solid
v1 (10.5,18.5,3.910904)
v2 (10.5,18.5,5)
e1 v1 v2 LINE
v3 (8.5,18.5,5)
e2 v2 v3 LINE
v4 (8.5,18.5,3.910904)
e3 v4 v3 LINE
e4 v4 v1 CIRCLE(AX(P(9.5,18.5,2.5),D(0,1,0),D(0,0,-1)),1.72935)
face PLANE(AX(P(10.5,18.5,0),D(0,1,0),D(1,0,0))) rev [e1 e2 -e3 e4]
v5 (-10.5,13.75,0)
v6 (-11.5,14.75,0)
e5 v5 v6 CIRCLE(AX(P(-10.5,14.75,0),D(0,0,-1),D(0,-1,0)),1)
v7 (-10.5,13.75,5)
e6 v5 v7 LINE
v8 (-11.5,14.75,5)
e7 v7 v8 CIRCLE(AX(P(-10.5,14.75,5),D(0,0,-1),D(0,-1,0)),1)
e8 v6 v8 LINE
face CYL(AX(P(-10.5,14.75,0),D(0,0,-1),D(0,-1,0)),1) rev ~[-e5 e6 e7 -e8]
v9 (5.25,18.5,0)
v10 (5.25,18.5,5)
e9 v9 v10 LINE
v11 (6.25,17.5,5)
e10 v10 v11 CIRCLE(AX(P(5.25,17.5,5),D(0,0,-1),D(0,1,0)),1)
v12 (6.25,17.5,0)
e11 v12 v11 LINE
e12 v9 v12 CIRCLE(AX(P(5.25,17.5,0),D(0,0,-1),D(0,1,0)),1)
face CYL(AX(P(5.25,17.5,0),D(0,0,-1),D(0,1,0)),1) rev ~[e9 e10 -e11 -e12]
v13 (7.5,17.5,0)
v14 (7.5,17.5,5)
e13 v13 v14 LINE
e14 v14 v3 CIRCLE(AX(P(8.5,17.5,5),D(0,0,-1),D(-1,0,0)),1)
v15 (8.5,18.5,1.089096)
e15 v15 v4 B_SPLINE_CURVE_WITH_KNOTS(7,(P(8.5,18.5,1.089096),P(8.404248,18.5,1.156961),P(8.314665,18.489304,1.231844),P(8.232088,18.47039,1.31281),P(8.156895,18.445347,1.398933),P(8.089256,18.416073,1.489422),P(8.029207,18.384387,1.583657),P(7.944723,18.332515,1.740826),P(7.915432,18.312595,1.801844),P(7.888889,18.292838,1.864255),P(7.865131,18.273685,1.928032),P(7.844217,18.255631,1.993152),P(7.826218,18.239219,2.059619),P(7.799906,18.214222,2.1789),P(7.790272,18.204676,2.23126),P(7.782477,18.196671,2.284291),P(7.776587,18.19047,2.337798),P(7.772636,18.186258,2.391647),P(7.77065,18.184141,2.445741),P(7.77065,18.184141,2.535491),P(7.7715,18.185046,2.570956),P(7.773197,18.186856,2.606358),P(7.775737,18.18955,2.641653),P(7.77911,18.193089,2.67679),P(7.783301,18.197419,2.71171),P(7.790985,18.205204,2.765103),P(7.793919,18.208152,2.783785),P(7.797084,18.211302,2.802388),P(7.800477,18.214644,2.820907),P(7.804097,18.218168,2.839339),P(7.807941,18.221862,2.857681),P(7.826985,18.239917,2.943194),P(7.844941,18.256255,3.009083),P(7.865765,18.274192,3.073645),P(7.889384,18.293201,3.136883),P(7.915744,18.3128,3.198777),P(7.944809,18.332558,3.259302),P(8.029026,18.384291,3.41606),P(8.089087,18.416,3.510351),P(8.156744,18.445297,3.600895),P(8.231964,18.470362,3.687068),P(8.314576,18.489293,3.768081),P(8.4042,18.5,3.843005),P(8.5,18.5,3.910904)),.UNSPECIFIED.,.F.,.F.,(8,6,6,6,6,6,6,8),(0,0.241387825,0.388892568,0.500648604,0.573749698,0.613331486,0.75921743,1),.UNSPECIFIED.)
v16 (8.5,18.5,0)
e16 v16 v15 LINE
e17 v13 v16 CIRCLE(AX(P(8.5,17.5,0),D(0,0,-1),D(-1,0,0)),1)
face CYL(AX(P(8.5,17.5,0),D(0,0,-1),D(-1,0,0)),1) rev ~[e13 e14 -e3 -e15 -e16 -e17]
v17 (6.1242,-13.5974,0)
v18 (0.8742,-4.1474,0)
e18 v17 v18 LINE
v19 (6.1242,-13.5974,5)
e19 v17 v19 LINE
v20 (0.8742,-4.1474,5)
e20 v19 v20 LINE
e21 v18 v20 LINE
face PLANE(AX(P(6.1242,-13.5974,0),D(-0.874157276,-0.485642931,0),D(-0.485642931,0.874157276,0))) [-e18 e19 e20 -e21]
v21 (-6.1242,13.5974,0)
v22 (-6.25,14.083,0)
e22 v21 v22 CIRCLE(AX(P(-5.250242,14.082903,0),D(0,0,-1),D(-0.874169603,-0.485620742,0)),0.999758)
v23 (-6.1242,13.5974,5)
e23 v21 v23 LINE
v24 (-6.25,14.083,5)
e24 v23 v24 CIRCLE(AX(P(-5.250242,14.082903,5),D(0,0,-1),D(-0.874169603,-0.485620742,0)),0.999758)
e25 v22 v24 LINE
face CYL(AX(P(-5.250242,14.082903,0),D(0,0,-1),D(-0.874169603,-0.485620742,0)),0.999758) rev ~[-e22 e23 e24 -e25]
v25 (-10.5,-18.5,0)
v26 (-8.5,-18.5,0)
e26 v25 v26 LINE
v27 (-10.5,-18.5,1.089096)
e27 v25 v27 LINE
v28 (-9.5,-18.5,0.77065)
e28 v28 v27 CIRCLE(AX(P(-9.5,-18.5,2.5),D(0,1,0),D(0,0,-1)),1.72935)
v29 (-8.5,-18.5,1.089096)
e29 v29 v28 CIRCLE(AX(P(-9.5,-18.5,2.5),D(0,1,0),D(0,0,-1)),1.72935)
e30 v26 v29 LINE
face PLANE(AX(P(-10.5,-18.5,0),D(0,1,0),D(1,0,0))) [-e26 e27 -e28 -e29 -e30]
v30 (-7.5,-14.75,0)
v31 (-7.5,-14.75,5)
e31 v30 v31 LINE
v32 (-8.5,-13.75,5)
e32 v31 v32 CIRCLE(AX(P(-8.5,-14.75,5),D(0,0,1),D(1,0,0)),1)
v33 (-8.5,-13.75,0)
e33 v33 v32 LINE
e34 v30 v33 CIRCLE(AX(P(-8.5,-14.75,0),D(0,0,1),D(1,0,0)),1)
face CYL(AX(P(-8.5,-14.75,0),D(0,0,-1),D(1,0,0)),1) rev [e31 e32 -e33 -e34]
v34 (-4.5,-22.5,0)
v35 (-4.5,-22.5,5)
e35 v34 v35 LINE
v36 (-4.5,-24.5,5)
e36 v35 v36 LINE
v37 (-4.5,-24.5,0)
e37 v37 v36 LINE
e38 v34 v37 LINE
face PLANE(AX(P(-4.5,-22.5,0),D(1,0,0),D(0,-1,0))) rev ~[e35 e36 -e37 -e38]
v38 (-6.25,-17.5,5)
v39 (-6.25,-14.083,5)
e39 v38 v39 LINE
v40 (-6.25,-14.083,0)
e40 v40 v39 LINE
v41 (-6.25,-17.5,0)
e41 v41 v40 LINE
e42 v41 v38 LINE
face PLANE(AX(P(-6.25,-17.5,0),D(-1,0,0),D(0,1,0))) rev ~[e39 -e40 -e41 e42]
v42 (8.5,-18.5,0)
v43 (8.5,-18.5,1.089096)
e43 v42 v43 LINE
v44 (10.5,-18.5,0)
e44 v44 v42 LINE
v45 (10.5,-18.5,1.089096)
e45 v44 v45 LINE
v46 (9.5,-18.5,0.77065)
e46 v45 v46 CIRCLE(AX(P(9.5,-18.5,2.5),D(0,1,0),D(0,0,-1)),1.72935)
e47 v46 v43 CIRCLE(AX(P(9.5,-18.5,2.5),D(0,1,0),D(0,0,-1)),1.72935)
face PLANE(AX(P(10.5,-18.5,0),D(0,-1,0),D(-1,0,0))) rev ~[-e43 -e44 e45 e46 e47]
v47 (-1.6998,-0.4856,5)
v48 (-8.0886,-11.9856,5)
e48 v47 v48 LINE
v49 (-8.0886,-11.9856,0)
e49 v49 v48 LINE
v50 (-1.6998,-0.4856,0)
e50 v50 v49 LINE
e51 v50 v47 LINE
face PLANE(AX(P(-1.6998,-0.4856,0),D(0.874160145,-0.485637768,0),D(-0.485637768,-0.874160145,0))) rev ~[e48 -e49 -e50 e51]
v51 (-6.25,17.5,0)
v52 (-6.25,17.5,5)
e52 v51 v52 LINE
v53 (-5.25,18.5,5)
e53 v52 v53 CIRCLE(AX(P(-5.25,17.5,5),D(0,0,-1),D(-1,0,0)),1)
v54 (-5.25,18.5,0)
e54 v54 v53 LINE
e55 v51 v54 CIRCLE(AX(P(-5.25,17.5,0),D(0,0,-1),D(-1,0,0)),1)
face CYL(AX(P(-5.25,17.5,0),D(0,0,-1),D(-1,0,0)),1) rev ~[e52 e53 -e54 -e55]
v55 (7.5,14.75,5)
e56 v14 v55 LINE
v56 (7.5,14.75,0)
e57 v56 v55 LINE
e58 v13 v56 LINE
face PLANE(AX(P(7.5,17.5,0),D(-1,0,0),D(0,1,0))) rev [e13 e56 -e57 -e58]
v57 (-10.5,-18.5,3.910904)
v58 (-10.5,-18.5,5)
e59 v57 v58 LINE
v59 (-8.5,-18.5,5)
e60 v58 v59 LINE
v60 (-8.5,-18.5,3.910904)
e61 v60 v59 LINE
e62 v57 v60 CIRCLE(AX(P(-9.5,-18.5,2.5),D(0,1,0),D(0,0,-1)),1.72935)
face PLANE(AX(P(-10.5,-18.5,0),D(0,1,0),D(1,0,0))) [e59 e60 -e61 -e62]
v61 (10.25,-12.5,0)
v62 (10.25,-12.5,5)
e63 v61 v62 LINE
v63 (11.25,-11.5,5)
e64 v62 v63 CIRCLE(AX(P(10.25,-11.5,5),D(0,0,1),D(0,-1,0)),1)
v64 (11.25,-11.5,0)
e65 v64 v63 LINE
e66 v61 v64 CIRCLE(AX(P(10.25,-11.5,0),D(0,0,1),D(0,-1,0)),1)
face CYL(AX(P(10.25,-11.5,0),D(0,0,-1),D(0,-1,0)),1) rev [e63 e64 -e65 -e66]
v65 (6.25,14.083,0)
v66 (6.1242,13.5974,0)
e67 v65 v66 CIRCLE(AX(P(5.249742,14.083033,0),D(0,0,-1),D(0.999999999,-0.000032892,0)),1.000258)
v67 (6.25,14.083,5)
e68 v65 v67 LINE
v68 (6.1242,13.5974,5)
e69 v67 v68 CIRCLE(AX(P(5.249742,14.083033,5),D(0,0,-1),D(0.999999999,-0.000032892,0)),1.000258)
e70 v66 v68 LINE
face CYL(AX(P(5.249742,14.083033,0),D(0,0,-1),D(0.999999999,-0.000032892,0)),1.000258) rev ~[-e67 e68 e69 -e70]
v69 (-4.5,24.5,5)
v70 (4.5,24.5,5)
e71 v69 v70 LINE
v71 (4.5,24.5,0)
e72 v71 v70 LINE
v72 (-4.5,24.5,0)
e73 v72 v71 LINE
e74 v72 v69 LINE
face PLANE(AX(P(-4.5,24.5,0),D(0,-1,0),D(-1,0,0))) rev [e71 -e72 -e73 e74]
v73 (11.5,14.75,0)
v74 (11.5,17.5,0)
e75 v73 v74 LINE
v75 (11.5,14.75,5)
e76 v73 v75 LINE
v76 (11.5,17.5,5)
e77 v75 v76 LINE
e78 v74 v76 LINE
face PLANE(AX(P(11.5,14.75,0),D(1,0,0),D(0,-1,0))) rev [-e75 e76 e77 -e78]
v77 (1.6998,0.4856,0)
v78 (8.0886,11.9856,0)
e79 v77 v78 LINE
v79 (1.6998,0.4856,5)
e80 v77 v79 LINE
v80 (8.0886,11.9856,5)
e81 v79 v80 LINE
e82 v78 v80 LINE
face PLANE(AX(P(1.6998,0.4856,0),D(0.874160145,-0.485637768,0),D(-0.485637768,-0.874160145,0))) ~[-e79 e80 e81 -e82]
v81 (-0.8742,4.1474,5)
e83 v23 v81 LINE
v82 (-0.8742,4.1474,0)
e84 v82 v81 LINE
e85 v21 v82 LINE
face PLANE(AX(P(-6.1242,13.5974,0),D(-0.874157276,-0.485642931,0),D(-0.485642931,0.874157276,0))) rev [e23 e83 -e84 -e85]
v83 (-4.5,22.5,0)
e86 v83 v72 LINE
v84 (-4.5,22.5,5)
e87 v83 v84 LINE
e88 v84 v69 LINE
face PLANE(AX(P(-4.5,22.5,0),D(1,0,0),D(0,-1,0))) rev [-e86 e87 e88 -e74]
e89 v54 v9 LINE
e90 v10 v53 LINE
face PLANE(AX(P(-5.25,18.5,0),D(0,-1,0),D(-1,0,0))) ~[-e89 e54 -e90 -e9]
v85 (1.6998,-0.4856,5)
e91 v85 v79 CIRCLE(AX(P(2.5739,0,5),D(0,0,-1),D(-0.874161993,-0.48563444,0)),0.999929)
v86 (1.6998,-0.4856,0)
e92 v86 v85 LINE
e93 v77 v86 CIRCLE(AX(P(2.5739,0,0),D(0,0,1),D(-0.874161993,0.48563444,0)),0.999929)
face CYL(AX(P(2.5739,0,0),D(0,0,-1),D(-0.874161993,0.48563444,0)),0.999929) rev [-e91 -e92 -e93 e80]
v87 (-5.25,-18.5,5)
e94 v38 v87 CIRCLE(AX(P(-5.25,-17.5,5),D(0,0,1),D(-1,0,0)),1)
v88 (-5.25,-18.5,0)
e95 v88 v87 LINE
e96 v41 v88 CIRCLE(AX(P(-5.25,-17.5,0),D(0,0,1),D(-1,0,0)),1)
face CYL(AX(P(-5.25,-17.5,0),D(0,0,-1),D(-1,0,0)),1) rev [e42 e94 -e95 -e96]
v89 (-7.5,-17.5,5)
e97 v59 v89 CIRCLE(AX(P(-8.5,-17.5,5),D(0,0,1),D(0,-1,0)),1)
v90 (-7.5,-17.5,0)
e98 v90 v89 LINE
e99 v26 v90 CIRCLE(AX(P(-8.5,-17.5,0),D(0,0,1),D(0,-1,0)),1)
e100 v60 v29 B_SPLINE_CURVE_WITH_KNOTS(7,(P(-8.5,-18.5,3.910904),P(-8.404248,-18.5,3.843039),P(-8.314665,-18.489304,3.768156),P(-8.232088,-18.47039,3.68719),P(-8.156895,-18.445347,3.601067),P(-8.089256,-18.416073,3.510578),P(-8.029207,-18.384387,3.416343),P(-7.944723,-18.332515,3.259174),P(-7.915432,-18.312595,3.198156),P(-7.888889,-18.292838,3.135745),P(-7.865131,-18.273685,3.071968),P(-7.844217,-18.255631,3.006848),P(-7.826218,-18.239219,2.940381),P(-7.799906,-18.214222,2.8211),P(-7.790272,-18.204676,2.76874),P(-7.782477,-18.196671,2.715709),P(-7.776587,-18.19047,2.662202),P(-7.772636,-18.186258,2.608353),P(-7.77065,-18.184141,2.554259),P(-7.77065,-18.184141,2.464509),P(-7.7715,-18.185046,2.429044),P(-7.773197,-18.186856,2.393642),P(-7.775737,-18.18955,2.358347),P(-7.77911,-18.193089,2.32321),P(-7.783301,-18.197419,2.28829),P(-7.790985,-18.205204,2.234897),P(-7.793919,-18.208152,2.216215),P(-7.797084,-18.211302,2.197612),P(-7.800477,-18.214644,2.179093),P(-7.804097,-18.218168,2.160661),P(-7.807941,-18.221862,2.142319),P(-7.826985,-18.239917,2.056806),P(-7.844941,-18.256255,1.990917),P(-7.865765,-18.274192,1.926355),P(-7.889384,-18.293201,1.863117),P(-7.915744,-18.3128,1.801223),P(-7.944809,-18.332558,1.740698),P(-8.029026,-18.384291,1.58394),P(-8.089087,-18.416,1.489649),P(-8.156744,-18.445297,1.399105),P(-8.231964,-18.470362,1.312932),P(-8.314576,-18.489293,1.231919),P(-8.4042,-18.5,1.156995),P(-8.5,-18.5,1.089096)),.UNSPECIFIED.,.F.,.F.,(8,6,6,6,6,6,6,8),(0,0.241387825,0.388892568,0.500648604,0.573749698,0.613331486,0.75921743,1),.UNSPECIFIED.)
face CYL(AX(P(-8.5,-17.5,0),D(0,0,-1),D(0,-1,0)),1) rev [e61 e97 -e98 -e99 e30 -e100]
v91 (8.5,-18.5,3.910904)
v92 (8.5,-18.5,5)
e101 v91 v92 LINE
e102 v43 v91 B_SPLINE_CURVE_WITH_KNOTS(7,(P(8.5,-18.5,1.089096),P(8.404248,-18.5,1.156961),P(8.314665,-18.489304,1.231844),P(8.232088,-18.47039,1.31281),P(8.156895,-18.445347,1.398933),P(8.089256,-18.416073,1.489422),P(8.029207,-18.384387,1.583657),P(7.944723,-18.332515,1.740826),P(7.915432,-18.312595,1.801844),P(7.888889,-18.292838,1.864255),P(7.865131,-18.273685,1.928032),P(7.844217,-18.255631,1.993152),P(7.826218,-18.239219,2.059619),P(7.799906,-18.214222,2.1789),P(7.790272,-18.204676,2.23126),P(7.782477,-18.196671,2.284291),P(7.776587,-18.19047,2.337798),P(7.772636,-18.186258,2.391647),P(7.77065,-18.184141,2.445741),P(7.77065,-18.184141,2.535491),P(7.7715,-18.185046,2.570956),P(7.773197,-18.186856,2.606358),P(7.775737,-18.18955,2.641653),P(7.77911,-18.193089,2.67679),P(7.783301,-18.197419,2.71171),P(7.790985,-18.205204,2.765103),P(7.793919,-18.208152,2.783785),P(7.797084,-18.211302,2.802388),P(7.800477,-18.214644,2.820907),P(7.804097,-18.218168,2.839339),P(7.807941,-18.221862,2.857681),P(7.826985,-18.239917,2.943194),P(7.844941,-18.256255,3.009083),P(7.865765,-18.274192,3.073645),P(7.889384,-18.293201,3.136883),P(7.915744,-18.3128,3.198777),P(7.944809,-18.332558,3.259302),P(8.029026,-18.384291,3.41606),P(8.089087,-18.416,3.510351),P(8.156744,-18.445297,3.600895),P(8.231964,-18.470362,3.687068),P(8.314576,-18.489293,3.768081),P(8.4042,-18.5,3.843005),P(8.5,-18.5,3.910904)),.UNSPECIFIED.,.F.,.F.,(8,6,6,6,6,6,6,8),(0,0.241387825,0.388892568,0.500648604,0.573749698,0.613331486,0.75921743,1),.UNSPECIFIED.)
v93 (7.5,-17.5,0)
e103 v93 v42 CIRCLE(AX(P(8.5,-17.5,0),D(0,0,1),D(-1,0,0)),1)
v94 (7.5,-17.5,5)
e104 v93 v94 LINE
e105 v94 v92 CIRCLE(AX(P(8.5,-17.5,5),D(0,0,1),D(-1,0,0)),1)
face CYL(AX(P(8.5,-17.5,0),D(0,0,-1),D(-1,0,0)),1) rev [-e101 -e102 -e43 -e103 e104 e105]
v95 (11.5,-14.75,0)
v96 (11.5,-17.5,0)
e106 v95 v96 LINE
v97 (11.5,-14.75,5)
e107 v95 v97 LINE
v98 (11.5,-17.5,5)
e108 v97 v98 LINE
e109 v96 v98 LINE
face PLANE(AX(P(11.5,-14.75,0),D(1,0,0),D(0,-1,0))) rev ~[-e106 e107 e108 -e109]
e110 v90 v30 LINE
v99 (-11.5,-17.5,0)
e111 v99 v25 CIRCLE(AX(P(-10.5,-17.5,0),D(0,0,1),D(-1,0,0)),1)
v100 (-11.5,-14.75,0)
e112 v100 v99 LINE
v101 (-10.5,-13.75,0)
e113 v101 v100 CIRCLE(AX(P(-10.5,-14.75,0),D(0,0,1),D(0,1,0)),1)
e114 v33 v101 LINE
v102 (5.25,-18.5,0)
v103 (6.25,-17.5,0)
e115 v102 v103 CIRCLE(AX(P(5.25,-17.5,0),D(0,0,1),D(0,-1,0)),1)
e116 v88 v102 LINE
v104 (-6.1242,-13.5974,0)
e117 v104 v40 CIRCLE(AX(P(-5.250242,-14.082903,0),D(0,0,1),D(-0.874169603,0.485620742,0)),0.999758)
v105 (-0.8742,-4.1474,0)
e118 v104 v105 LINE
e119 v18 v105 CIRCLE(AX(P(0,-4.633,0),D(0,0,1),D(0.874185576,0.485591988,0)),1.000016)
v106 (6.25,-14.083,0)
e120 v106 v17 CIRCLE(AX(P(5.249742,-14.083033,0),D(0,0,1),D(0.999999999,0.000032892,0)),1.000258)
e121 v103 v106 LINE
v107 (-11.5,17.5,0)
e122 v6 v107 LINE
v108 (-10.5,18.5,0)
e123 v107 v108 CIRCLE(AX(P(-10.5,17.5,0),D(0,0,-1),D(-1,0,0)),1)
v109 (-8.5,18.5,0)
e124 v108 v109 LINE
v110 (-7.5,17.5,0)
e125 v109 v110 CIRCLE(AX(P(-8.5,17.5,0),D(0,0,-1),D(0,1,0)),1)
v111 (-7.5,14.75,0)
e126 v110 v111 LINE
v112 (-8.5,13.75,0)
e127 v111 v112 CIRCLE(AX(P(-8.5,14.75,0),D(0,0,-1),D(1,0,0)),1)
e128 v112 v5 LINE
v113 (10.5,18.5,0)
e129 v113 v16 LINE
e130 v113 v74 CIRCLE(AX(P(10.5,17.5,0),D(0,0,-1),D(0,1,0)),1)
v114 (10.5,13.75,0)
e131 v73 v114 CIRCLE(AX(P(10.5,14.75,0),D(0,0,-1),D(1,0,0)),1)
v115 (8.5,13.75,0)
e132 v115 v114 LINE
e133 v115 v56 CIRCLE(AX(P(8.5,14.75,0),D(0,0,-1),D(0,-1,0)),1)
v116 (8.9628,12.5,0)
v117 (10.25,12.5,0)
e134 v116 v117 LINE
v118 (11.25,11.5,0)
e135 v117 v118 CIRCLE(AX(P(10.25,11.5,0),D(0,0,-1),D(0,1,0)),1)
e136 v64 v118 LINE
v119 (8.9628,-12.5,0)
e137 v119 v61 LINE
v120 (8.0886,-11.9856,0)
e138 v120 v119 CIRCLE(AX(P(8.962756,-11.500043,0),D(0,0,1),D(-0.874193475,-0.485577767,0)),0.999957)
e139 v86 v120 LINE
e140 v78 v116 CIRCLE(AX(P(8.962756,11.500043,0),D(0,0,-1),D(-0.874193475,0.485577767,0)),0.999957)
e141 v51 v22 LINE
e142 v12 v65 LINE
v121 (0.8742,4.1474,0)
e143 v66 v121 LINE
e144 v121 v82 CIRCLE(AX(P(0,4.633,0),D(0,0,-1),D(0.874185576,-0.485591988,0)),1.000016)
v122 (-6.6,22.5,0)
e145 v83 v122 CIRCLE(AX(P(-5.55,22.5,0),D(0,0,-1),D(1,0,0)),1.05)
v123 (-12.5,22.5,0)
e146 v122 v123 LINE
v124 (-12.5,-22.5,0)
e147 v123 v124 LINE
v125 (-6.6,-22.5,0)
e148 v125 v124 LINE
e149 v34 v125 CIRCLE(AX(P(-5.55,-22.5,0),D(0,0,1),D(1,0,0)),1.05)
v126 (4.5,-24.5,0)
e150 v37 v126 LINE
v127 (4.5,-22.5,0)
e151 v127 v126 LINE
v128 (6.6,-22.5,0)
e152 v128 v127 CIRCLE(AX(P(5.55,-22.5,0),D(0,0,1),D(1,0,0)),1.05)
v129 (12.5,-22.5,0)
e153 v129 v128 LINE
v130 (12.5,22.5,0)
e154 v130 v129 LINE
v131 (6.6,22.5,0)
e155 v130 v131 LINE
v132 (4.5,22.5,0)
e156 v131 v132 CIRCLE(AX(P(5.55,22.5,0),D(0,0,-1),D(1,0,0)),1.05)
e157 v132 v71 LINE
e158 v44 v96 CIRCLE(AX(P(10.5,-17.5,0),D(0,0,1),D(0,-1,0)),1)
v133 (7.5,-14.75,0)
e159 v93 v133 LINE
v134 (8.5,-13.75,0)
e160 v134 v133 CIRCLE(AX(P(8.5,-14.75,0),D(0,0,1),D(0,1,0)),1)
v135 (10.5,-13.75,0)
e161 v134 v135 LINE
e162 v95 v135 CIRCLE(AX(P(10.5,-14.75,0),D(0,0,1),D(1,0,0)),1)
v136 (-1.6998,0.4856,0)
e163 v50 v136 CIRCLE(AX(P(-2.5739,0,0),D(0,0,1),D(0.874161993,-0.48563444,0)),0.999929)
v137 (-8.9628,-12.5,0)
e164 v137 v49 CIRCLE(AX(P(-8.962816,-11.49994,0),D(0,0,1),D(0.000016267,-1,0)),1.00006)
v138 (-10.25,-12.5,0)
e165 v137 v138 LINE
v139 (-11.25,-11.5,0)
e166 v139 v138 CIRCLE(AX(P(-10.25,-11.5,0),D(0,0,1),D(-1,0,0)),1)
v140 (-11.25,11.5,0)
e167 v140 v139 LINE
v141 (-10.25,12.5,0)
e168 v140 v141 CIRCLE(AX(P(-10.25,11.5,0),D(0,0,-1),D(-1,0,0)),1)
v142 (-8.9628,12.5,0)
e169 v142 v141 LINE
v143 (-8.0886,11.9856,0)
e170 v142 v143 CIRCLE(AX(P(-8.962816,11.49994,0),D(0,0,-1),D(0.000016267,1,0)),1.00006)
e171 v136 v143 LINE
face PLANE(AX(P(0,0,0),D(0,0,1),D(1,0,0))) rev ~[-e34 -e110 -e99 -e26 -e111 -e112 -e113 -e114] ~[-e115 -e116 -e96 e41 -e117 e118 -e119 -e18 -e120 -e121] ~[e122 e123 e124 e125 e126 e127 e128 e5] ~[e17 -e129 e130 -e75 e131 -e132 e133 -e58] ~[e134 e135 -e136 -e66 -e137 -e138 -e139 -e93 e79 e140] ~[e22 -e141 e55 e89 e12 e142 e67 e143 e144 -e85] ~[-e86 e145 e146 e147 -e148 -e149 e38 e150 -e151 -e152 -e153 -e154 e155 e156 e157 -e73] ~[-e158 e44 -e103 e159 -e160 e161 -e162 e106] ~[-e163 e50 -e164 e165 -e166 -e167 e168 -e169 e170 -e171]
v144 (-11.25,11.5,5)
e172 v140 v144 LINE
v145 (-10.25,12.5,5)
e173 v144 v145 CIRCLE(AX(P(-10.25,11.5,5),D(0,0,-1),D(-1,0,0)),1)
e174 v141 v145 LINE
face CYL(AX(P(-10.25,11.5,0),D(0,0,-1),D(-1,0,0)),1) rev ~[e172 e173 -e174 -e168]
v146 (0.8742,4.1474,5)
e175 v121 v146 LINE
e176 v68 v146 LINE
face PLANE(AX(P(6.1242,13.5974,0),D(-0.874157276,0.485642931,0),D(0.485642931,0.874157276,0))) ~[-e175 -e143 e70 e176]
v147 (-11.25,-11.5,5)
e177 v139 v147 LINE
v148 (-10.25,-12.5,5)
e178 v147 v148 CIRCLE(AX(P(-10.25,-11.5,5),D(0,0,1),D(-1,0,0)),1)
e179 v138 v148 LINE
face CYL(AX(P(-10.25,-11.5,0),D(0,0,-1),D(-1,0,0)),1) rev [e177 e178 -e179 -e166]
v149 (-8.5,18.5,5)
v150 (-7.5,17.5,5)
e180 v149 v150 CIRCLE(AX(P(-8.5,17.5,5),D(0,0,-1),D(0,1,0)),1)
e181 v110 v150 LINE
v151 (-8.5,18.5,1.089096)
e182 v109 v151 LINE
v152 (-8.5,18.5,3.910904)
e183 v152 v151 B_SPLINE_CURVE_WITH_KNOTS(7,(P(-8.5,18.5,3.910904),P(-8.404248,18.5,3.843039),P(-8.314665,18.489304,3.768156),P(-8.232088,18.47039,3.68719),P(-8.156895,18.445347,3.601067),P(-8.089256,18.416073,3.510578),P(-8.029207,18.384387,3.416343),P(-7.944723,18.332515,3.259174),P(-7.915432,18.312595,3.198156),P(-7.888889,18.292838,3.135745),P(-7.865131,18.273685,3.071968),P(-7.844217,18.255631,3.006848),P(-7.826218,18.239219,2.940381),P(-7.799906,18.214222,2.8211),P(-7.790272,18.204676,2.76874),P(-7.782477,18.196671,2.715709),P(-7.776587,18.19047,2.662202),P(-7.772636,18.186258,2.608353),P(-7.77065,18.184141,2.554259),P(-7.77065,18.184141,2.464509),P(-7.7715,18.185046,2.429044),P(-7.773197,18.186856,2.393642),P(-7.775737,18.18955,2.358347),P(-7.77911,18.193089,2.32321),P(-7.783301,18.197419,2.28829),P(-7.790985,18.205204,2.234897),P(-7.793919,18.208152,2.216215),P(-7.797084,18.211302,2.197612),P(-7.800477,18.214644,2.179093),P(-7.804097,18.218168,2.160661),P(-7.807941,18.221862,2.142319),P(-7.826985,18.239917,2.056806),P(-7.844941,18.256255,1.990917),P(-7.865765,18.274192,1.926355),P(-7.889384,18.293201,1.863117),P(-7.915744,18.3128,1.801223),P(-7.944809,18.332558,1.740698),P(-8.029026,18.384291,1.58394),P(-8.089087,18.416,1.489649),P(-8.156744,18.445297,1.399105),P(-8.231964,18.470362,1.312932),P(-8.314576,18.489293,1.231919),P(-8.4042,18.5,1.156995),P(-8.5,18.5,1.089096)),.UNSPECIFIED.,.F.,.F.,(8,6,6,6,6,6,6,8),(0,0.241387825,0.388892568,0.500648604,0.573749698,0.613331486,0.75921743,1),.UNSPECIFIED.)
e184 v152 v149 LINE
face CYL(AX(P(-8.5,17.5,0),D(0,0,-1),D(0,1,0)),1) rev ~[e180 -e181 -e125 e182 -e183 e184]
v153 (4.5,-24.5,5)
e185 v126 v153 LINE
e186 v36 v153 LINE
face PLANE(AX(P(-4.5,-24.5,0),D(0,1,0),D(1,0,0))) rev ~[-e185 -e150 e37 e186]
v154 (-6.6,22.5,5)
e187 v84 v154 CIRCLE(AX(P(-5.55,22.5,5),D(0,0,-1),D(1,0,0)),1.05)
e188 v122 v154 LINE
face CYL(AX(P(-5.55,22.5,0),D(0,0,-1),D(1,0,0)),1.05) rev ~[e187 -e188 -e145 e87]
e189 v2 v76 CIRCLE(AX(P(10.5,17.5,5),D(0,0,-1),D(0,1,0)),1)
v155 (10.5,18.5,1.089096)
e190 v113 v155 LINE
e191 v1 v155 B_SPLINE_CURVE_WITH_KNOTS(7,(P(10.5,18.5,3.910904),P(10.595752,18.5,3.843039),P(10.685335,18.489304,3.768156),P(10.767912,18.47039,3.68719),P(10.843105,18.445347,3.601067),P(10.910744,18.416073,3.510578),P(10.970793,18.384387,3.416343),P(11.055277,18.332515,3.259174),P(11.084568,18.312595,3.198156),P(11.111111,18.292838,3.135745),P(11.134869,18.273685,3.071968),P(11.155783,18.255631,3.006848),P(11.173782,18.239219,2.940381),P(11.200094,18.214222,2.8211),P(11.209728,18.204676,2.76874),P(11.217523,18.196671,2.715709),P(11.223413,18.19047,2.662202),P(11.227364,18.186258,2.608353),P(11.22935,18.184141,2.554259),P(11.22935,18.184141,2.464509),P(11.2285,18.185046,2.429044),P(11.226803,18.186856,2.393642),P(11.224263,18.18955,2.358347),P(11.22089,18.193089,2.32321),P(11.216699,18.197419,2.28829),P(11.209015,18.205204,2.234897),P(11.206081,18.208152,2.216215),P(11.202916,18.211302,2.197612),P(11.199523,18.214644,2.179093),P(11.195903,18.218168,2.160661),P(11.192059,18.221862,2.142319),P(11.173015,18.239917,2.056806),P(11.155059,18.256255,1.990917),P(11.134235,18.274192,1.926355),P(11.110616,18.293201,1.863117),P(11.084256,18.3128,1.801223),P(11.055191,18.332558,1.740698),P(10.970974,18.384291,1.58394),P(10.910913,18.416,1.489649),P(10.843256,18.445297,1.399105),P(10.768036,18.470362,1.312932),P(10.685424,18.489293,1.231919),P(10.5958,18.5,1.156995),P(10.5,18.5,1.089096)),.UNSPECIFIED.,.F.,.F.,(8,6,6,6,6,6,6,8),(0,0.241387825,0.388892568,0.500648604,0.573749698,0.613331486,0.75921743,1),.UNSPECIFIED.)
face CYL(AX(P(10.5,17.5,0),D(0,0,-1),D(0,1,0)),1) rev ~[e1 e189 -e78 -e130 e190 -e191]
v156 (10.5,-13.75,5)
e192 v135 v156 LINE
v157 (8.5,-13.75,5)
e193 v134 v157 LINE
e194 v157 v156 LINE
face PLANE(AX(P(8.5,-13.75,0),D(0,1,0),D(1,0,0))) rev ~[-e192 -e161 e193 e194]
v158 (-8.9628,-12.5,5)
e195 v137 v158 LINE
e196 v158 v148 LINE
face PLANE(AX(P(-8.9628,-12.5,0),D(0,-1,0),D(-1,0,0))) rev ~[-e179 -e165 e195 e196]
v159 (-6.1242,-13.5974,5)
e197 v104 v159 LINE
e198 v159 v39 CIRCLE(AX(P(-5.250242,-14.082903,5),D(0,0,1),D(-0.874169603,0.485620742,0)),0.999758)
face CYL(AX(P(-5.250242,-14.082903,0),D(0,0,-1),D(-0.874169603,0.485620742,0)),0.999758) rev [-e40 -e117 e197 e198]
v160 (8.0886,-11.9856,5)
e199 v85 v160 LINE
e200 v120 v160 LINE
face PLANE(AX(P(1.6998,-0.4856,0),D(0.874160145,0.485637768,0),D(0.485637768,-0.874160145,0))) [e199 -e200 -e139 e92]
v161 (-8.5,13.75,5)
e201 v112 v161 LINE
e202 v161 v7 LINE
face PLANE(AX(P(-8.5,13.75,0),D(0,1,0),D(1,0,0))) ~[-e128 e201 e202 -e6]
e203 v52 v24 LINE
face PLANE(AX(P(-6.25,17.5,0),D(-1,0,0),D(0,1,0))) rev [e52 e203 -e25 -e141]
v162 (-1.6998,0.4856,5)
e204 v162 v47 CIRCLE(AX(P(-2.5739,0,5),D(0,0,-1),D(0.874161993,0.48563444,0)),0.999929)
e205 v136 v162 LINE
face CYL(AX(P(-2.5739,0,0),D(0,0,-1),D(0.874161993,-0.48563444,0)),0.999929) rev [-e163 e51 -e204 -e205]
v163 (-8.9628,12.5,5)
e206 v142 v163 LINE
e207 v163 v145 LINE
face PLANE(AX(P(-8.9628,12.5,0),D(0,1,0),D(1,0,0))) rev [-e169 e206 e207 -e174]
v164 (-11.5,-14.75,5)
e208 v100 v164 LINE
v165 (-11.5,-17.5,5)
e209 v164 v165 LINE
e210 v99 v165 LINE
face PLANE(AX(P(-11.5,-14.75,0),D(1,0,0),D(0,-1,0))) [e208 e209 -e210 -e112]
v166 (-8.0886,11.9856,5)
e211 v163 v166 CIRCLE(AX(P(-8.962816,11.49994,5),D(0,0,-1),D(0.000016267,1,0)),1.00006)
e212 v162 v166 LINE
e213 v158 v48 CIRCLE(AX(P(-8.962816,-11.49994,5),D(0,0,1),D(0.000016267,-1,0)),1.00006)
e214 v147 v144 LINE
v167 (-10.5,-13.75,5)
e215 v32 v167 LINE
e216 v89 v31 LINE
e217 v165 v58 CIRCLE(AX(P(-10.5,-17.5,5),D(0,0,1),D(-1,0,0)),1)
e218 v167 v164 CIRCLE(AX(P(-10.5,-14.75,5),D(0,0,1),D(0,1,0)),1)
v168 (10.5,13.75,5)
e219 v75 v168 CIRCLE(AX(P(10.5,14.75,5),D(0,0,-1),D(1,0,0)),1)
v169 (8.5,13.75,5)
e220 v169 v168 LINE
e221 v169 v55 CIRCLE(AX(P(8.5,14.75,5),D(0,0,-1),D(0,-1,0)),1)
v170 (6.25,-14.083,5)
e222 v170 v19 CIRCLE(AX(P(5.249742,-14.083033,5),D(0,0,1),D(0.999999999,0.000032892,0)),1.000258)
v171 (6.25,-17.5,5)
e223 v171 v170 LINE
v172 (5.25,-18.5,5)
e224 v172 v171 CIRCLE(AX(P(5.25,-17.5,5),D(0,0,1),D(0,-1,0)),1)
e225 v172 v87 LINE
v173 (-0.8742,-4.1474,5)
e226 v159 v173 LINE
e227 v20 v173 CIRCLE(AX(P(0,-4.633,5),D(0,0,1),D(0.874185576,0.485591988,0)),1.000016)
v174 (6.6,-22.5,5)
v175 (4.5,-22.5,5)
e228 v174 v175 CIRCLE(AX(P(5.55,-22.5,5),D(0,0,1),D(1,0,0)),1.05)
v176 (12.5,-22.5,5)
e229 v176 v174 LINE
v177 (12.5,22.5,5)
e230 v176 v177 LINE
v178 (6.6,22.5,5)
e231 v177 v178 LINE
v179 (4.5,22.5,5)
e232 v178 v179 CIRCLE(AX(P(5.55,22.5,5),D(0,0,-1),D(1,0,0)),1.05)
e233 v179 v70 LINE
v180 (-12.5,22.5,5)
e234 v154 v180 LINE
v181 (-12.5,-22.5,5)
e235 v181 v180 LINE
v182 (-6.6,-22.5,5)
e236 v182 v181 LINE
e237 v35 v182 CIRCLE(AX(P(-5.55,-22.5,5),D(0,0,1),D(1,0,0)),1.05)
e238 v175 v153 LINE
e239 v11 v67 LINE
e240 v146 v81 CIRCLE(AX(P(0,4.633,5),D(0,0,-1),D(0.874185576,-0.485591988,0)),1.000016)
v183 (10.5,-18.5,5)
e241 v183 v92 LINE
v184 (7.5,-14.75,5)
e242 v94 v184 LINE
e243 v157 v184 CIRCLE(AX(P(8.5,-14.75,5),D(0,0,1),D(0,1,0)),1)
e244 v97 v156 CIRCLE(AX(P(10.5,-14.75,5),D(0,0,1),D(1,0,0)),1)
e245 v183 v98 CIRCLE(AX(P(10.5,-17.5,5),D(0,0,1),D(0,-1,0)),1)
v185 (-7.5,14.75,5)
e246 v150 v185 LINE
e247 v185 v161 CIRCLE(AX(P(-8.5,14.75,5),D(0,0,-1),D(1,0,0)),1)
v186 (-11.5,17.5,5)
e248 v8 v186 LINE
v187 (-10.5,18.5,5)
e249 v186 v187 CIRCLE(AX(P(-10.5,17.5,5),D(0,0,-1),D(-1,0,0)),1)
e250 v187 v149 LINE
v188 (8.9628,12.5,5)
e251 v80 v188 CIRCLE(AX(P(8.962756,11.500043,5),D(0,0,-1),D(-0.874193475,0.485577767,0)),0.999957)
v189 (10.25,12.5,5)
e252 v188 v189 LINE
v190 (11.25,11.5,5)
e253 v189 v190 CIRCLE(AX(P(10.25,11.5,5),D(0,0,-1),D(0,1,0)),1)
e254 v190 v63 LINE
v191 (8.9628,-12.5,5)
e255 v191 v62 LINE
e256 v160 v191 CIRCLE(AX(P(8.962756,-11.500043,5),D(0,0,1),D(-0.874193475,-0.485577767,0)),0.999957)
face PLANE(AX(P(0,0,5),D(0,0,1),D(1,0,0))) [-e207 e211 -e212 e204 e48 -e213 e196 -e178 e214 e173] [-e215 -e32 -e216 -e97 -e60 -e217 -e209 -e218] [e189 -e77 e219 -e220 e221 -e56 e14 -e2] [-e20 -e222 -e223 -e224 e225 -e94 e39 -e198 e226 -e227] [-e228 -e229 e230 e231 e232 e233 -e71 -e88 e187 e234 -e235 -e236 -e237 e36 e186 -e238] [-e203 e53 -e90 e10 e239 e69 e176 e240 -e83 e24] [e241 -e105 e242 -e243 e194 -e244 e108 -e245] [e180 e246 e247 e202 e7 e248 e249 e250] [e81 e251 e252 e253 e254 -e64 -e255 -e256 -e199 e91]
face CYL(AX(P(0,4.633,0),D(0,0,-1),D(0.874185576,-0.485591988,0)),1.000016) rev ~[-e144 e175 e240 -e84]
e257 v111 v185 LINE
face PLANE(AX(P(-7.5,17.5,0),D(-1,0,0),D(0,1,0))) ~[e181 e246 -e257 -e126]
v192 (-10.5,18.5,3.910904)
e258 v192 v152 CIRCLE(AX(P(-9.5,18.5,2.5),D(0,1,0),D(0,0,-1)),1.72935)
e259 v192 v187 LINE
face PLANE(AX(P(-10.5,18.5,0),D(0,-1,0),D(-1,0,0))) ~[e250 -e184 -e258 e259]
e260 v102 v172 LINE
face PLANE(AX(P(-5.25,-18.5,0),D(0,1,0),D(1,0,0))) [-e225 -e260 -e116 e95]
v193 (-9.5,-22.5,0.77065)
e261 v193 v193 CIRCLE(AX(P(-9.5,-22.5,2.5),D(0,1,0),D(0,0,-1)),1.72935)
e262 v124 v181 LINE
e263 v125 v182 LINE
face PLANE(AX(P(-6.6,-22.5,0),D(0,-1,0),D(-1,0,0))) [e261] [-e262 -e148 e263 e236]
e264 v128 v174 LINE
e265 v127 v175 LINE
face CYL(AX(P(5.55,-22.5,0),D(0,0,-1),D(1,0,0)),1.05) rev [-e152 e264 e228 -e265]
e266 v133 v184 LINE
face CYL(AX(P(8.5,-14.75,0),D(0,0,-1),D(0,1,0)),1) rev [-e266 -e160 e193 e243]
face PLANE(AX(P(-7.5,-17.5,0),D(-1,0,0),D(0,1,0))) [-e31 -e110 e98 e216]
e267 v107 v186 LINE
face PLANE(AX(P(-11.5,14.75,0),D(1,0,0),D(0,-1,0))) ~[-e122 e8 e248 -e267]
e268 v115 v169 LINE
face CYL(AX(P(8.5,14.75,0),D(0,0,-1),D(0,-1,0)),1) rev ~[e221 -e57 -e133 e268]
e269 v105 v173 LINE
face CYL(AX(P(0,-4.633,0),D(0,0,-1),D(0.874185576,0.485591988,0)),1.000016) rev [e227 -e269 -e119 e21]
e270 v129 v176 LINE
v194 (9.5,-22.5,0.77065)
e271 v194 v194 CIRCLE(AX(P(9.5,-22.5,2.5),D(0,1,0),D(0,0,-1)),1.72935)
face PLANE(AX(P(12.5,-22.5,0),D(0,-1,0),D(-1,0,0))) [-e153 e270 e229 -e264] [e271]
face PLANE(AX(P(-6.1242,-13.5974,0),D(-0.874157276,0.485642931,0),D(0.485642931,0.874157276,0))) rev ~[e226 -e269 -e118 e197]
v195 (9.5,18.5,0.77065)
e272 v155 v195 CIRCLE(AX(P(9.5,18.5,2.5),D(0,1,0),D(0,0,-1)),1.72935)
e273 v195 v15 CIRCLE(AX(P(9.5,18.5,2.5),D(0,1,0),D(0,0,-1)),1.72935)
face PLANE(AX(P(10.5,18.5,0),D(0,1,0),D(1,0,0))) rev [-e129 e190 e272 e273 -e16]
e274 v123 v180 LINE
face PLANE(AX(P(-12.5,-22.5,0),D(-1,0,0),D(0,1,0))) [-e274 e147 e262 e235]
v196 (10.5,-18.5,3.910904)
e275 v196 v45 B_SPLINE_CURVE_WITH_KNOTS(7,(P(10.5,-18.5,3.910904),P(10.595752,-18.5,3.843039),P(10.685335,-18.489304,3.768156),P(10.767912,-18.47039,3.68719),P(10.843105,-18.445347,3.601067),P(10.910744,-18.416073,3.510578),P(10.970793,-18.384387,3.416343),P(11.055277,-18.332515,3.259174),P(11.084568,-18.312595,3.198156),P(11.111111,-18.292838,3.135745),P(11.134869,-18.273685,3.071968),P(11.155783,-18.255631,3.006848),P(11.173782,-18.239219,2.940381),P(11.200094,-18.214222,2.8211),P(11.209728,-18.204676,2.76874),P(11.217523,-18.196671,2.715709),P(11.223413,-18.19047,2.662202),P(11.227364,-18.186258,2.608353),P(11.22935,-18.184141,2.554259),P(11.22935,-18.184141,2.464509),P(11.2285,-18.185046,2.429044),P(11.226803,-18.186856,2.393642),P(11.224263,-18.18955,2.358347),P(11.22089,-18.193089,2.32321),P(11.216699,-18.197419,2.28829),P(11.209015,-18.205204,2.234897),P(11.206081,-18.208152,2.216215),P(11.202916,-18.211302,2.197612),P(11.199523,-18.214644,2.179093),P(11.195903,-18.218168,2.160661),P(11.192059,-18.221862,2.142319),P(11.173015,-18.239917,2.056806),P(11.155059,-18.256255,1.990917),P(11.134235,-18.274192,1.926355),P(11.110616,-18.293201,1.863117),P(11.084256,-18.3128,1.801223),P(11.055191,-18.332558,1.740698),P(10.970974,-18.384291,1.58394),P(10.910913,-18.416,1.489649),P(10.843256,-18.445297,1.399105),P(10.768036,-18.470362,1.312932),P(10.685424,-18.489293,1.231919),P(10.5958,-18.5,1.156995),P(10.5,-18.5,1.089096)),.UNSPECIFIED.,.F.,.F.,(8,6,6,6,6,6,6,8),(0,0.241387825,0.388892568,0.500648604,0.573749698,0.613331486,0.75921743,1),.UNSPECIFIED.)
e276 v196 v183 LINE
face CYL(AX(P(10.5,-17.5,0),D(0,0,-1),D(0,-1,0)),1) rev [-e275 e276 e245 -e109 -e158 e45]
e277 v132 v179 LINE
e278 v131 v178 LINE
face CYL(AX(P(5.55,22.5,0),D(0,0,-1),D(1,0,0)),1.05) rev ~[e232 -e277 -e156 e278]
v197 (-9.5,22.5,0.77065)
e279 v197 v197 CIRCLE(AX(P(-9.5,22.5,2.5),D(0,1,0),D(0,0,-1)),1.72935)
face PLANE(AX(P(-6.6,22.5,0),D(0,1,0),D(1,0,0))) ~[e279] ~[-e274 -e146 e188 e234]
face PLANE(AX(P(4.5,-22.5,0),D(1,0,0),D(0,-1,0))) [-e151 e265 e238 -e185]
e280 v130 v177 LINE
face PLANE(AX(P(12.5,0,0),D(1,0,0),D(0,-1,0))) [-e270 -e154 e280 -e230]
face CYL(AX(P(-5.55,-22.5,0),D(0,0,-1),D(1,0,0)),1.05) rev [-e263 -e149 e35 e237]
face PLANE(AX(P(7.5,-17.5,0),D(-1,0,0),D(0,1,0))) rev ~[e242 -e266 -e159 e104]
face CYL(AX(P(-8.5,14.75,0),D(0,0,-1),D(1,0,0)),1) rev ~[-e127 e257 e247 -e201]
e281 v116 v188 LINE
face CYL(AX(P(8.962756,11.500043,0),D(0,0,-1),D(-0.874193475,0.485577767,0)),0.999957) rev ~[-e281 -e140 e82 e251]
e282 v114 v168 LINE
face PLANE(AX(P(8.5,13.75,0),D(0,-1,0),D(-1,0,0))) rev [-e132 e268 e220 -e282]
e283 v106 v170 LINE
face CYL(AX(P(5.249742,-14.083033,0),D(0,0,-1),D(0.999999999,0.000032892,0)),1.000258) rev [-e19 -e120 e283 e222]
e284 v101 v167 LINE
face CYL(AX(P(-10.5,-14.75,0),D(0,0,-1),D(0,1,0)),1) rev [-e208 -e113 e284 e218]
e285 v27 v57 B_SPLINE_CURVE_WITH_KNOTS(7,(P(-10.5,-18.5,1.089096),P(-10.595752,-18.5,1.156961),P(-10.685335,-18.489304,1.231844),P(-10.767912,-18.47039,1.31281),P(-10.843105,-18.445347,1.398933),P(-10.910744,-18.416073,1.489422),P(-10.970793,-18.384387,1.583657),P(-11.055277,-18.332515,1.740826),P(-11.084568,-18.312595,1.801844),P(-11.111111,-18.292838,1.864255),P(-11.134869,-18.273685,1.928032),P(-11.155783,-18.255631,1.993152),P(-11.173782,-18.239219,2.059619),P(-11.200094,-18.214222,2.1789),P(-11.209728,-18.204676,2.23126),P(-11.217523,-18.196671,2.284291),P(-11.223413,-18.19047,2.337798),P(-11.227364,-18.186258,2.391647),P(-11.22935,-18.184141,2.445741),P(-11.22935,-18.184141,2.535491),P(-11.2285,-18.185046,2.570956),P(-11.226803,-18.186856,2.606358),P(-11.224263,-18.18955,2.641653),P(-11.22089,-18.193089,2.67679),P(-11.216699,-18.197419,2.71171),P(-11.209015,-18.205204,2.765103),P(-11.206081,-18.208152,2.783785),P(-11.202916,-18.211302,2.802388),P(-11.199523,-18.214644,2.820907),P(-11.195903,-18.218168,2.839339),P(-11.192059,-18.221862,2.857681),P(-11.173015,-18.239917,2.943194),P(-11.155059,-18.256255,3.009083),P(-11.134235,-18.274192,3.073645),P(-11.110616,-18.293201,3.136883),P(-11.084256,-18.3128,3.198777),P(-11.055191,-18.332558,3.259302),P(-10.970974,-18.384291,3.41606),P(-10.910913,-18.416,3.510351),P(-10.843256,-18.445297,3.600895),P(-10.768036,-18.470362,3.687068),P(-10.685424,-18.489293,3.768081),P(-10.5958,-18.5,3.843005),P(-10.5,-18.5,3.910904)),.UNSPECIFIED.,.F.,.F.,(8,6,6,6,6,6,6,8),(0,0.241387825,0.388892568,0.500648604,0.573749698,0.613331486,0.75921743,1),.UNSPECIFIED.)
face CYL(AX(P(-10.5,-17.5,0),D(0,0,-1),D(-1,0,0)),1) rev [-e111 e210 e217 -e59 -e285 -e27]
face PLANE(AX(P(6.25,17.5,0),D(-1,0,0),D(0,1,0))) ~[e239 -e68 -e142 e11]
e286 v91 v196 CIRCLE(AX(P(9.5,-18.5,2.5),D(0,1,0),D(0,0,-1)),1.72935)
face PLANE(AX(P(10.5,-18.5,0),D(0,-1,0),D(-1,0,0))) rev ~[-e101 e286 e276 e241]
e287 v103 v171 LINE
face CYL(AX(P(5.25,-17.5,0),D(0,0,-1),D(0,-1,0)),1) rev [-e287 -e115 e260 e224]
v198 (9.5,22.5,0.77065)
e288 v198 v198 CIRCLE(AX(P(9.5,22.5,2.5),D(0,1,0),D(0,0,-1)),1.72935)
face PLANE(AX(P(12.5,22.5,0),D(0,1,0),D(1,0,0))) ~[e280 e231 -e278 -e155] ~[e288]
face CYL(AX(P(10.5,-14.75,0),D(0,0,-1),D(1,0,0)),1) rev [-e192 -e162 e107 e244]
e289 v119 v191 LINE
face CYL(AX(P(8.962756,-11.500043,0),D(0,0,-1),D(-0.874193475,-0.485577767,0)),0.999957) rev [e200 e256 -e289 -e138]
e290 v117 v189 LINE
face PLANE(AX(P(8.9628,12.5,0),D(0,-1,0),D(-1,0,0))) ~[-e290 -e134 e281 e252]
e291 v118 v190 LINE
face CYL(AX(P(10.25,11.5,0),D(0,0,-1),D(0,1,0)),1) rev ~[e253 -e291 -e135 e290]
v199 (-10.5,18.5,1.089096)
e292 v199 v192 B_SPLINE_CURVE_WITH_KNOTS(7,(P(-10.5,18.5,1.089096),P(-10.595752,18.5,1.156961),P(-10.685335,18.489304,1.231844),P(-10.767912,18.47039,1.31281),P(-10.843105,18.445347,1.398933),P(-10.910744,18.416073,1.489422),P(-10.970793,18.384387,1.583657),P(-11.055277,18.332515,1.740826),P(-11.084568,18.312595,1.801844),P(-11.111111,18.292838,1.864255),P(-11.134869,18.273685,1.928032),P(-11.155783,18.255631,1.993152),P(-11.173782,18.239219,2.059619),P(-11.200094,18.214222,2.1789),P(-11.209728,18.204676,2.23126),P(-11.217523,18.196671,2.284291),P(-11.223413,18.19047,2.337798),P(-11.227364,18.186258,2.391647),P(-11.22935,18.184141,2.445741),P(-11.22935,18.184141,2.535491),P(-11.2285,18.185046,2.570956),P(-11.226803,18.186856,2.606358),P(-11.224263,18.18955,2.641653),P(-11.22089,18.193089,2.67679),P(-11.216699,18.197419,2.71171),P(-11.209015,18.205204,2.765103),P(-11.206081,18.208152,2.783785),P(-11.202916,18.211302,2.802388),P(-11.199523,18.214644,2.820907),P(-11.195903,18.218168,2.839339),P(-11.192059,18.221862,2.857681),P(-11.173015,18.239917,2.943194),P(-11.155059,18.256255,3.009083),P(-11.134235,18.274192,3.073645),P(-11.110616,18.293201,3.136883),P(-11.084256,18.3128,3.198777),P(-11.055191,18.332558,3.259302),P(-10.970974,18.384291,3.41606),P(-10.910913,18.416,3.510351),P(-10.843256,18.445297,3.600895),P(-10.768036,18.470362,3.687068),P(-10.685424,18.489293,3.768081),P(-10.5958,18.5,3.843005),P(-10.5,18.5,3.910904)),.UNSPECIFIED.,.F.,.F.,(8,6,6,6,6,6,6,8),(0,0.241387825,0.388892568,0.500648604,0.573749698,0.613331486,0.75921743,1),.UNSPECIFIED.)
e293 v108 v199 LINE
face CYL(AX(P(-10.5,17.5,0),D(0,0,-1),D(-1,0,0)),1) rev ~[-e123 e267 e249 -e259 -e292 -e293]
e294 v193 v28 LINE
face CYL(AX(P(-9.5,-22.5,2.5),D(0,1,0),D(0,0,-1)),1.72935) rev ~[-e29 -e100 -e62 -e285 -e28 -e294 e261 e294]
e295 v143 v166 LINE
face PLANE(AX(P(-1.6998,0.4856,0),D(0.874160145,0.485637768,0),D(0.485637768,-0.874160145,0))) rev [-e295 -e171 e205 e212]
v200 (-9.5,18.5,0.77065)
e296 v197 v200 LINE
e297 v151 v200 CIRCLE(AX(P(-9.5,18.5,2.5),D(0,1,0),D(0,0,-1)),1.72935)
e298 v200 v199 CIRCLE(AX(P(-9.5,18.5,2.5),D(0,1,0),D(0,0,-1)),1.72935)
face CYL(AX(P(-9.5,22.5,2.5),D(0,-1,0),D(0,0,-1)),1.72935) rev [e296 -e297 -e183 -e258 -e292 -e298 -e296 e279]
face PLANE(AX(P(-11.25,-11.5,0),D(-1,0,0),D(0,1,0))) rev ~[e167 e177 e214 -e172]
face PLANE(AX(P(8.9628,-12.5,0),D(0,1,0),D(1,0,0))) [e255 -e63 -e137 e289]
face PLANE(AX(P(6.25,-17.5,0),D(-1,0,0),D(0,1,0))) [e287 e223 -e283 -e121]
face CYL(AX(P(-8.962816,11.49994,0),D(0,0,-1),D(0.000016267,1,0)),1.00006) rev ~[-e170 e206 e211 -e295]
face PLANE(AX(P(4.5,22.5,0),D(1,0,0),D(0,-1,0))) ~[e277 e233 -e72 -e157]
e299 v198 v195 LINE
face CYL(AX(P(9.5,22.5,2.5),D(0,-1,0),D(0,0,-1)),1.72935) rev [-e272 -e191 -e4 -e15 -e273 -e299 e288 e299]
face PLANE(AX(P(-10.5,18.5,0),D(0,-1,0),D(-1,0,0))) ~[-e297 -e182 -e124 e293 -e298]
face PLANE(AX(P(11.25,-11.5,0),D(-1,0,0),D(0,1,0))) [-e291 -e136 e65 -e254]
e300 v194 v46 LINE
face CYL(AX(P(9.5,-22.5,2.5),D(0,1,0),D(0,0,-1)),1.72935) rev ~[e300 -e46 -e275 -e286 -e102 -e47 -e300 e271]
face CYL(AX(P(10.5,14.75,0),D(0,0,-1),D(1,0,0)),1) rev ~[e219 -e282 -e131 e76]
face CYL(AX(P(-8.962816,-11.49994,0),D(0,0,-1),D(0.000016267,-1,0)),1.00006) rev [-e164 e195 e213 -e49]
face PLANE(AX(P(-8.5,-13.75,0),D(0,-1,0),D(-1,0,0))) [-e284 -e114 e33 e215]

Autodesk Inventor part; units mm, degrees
ref_plane "YZ Plane" through (0, 0, 0) normal (1, 0, 0) x (0, 1, 0)
ref_plane "XZ Plane" through (0, 0, 0) normal (0, 1, 0) x (-1, 0, 0)
ref_plane "XY Plane" through (0, 0, 0) normal (0, 0, 1) x (1, 0, 0)
sketch "スケッチ1" plane through (0, 0, 0) normal (0, 0, 1) x (1, 0, 0)
  line L0 (-12.5, -22.5) -> (-12.5, 22.5)
  line L1 (-12.5, 22.5) -> (12.5, 22.5)
  line L2 (12.5, 22.5) -> (12.5, -22.5)
  line L3 (12.5, -22.5) -> (-12.5, -22.5)
  line L4 (-12.5, -22.5) -> (12.5, 22.5) construction
  line L5 (-12.5, 22.5) -> (12.5, -22.5) construction
  line L6 (0, -22.5) -> (0, 22.5) construction
  line L7 (-12.5, 0) -> (12.5, 0) construction
  line L8 (-4.5, -22.5) -> (-4.5, -24.5)
  line L9 (-4.5, -24.5) -> (4.5, -24.5)
  arc A0 (-4.5, -22.5) -> (-6.6, -22.5) centre (-5.55, -22.5) ccw
  line L10 (-9.5, -22.5) -> (-9.5, -18.5) construction
  line L11 (-11.5, -22.5) -> (-11.5, -18.5) construction
  line L12 (-11.5, -18.5) -> (-7.5, -18.5) construction
  line L13 (-7.5, -18.5) -> (-7.5, -22.5) construction
  line L14 (4.5, -22.5) -> (4.5, -24.5)
  arc A1 (6.6, -22.5) -> (4.5, -22.5) centre (5.55, -22.5) ccw
  line L15 (9.5, -22.5) -> (9.5, -18.5) construction
  line L16 (11.5, -22.5) -> (11.5, -18.5) construction
  line L17 (11.5, -18.5) -> (7.5, -18.5) construction
  line L18 (7.5, -18.5) -> (7.5, -22.5) construction
  line L19 (-8.5, -13.75) -> (-10.5, -13.75)
  line L20 (-11.5, -14.75) -> (-11.5, -17.5)
  line L21 (-10.5, -18.5) -> (-8.5, -18.5)
  line L22 (-7.5, -17.5) -> (-7.5, -14.75)
  line L23 (-7.5, -13.75) -> (-11.5, -18.5) construction
  line L24 (-11.5, -13.75) -> (-7.5, -18.5) construction
  arc A2 (-11.5, -17.5) -> (-10.5, -18.5) centre (-10.5, -17.5) ccw
  arc A3 (-8.5, -18.5) -> (-7.5, -17.5) centre (-8.5, -17.5) ccw
  arc A4 (-7.5, -14.75) -> (-8.5, -13.75) centre (-8.5, -14.75) ccw
  arc A5 (-10.5, -13.75) -> (-11.5, -14.75) centre (-10.5, -14.75) ccw
  line L25 (-6.25, -17.5) -> (-6.25, -14.083)
  line L26 (-6.1242, -13.5974) -> (-0.8742, -4.1474)
  line L27 (-5.25, -18.5) -> (0, -18.5)
  arc A6 (-6.1242, -13.5974) -> (-6.25, -14.083) centre (-5.25, -14.083) ccw
  arc A7 (-6.25, -17.5) -> (-5.25, -18.5) centre (-5.25, -17.5) ccw
  line L28 (-12.5, 0) -> (12.5, 0)
  line L29 (6.25, -17.5) -> (6.25, -14.083)
  line L30 (6.1242, -13.5974) -> (0.8742, -4.1474)
  line L31 (5.25, -18.5) -> (0, -18.5)
  arc A8 (6.25, -14.083) -> (6.1242, -13.5974) centre (5.25, -14.083) ccw
  arc A9 (5.25, -18.5) -> (6.25, -17.5) centre (5.25, -17.5) ccw
  arc A10 (0.8742, -4.1474) -> (-0.8742, -4.1474) centre (0, -4.633) ccw
  line L32 (8.5, -13.75) -> (10.5, -13.75)
  line L33 (11.5, -14.75) -> (11.5, -17.5)
  line L34 (10.5, -18.5) -> (8.5, -18.5)
  line L35 (7.5, -17.5) -> (7.5, -14.75)
  arc A11 (10.5, -18.5) -> (11.5, -17.5) centre (10.5, -17.5) ccw
  arc A12 (8.5, -13.75) -> (7.5, -14.75) centre (8.5, -14.75) ccw
  arc A13 (11.5, -14.75) -> (10.5, -13.75) centre (10.5, -14.75) ccw
  arc A14 (7.5, -17.5) -> (8.5, -18.5) centre (8.5, -17.5) ccw
  line L36 (1.6998, -0.4856) -> (8.0886, -11.9856)
  line L37 (8.9628, -12.5) -> (10.25, -12.5)
  line L38 (11.25, -11.5) -> (11.25, 0)
  line L39 (1.6998, 0.4856) -> (8.0886, 11.9856)
  line L40 (8.9628, 12.5) -> (10.25, 12.5)
  line L41 (11.25, 11.5) -> (11.25, 0)
  arc A15 (1.6998, 0.4856) -> (1.6998, -0.4856) centre (2.5739, 0) ccw
  arc A16 (8.0886, -11.9856) -> (8.9628, -12.5) centre (8.9628, -11.5) ccw
  arc A17 (10.25, -12.5) -> (11.25, -11.5) centre (10.25, -11.5) ccw
  arc A18 (11.25, 11.5) -> (10.25, 12.5) centre (10.25, 11.5) ccw
  arc A19 (8.9628, 12.5) -> (8.0886, 11.9856) centre (8.9628, 11.5) ccw
  line L42 (-1.6998, -0.4856) -> (-8.0886, -11.9856)
  line L43 (-8.9628, -12.5) -> (-10.25, -12.5)
  line L44 (-11.25, -11.5) -> (-11.25, 0)
  line L45 (-11.25, 11.5) -> (-11.25, 0)
  line L46 (-8.9628, 12.5) -> (-10.25, 12.5)
  line L47 (-1.6998, 0.4856) -> (-8.0886, 11.9856)
  arc A20 (-1.6998, -0.4856) -> (-1.6998, 0.4856) centre (-2.5739, 0) ccw
  arc A21 (-8.9628, -12.5) -> (-8.0886, -11.9856) centre (-8.9628, -11.5) ccw
  arc A22 (-11.25, -11.5) -> (-10.25, -12.5) centre (-10.25, -11.5) ccw
  arc A23 (-10.25, 12.5) -> (-11.25, 11.5) centre (-10.25, 11.5) ccw
  arc A24 (-8.0886, 11.9856) -> (-8.9628, 12.5) centre (-8.9628, 11.5) ccw
  point P0 (0, 0)
  point P1 (4.5, -22.5)
  point P2 (6.6, -22.5)
  point P3 (4.5, -22.5)
  point P4 (-9.5, -16.125)
  point P5 (-9.5, -16.125)
  point P6 (0, -2.5739)
  point P7 (1.4299, 0)
  point P8 (8.3744, -12.5)
  point P9 (11.25, -12.5)
  point P10 (8.3744, 12.5)
  point P11 (11.25, 12.5)
  point P12 (1.5739, 0)
  point P13 (-1.5739, 0)
  point P14 (-11.25, 0)
  dimension "d0" = 4
  dimension "d1" = 4
  dimension "d2" = 1.05
  dimension "d3" = 19
  dimension "d4" = 9
  dimension "d5" = 25
  dimension "d7" = 2
  dimension "d8" = 45
  dimension "d35" = 1
  dimension "d36" = 4
  dimension "d38" = 1.25
  dimension "d42" = 1
  dimension "d44" = 1
  dimension "d47" = 1.25
  dimension "d48" = 2.5
  dimension "d49" = 1.25
  dimension "d50" = 1
  dimension "d51" = 4.75
extrude "押し出し1" add sketch "スケッチ1" along normal blind 5 contours L0 L28 L44 A22 L43 A21 L42 A20 A15 L36 A16 L37 A17 L38 L2 L3 A1 A0 | L3 L14 L9 L8
sketch "スケッチ2" plane through (-12.5, -22.5, 0) normal (0, -1, 0) x (1, 0, 0)
  line L0 (12.5, 5) -> (12.5, 0)
  line L1 (0, 0) -> (5.9, 0) projected
  line L2 (8, 5) -> (5.9, 5) projected
  point P0 (3, 2.5)
  point P1 (22, 2.5)
  point P2 (17, 5)
  dimension "d22" = 2.5
  dimension "d30" = 19
hole "穴1" at (-9.5, -22.5, 2.5) at (9.5, -22.5, 2.5) direction (0, 1, 0) diameter 3.4587 depth 5 tip angle 118 thread size "M4x0.5" class "6H" standard "ISO Metric profile"
mirror "ミラー1" about plane through (12.5, 0, 0) normal (0, 1, 0)
equation "\"d38\" = d11"
equation "\"d30\" = d3"
equation "\"d11\" = 1.25"
properties part number "Head_diagonal" material "アセタール樹脂、黒"
